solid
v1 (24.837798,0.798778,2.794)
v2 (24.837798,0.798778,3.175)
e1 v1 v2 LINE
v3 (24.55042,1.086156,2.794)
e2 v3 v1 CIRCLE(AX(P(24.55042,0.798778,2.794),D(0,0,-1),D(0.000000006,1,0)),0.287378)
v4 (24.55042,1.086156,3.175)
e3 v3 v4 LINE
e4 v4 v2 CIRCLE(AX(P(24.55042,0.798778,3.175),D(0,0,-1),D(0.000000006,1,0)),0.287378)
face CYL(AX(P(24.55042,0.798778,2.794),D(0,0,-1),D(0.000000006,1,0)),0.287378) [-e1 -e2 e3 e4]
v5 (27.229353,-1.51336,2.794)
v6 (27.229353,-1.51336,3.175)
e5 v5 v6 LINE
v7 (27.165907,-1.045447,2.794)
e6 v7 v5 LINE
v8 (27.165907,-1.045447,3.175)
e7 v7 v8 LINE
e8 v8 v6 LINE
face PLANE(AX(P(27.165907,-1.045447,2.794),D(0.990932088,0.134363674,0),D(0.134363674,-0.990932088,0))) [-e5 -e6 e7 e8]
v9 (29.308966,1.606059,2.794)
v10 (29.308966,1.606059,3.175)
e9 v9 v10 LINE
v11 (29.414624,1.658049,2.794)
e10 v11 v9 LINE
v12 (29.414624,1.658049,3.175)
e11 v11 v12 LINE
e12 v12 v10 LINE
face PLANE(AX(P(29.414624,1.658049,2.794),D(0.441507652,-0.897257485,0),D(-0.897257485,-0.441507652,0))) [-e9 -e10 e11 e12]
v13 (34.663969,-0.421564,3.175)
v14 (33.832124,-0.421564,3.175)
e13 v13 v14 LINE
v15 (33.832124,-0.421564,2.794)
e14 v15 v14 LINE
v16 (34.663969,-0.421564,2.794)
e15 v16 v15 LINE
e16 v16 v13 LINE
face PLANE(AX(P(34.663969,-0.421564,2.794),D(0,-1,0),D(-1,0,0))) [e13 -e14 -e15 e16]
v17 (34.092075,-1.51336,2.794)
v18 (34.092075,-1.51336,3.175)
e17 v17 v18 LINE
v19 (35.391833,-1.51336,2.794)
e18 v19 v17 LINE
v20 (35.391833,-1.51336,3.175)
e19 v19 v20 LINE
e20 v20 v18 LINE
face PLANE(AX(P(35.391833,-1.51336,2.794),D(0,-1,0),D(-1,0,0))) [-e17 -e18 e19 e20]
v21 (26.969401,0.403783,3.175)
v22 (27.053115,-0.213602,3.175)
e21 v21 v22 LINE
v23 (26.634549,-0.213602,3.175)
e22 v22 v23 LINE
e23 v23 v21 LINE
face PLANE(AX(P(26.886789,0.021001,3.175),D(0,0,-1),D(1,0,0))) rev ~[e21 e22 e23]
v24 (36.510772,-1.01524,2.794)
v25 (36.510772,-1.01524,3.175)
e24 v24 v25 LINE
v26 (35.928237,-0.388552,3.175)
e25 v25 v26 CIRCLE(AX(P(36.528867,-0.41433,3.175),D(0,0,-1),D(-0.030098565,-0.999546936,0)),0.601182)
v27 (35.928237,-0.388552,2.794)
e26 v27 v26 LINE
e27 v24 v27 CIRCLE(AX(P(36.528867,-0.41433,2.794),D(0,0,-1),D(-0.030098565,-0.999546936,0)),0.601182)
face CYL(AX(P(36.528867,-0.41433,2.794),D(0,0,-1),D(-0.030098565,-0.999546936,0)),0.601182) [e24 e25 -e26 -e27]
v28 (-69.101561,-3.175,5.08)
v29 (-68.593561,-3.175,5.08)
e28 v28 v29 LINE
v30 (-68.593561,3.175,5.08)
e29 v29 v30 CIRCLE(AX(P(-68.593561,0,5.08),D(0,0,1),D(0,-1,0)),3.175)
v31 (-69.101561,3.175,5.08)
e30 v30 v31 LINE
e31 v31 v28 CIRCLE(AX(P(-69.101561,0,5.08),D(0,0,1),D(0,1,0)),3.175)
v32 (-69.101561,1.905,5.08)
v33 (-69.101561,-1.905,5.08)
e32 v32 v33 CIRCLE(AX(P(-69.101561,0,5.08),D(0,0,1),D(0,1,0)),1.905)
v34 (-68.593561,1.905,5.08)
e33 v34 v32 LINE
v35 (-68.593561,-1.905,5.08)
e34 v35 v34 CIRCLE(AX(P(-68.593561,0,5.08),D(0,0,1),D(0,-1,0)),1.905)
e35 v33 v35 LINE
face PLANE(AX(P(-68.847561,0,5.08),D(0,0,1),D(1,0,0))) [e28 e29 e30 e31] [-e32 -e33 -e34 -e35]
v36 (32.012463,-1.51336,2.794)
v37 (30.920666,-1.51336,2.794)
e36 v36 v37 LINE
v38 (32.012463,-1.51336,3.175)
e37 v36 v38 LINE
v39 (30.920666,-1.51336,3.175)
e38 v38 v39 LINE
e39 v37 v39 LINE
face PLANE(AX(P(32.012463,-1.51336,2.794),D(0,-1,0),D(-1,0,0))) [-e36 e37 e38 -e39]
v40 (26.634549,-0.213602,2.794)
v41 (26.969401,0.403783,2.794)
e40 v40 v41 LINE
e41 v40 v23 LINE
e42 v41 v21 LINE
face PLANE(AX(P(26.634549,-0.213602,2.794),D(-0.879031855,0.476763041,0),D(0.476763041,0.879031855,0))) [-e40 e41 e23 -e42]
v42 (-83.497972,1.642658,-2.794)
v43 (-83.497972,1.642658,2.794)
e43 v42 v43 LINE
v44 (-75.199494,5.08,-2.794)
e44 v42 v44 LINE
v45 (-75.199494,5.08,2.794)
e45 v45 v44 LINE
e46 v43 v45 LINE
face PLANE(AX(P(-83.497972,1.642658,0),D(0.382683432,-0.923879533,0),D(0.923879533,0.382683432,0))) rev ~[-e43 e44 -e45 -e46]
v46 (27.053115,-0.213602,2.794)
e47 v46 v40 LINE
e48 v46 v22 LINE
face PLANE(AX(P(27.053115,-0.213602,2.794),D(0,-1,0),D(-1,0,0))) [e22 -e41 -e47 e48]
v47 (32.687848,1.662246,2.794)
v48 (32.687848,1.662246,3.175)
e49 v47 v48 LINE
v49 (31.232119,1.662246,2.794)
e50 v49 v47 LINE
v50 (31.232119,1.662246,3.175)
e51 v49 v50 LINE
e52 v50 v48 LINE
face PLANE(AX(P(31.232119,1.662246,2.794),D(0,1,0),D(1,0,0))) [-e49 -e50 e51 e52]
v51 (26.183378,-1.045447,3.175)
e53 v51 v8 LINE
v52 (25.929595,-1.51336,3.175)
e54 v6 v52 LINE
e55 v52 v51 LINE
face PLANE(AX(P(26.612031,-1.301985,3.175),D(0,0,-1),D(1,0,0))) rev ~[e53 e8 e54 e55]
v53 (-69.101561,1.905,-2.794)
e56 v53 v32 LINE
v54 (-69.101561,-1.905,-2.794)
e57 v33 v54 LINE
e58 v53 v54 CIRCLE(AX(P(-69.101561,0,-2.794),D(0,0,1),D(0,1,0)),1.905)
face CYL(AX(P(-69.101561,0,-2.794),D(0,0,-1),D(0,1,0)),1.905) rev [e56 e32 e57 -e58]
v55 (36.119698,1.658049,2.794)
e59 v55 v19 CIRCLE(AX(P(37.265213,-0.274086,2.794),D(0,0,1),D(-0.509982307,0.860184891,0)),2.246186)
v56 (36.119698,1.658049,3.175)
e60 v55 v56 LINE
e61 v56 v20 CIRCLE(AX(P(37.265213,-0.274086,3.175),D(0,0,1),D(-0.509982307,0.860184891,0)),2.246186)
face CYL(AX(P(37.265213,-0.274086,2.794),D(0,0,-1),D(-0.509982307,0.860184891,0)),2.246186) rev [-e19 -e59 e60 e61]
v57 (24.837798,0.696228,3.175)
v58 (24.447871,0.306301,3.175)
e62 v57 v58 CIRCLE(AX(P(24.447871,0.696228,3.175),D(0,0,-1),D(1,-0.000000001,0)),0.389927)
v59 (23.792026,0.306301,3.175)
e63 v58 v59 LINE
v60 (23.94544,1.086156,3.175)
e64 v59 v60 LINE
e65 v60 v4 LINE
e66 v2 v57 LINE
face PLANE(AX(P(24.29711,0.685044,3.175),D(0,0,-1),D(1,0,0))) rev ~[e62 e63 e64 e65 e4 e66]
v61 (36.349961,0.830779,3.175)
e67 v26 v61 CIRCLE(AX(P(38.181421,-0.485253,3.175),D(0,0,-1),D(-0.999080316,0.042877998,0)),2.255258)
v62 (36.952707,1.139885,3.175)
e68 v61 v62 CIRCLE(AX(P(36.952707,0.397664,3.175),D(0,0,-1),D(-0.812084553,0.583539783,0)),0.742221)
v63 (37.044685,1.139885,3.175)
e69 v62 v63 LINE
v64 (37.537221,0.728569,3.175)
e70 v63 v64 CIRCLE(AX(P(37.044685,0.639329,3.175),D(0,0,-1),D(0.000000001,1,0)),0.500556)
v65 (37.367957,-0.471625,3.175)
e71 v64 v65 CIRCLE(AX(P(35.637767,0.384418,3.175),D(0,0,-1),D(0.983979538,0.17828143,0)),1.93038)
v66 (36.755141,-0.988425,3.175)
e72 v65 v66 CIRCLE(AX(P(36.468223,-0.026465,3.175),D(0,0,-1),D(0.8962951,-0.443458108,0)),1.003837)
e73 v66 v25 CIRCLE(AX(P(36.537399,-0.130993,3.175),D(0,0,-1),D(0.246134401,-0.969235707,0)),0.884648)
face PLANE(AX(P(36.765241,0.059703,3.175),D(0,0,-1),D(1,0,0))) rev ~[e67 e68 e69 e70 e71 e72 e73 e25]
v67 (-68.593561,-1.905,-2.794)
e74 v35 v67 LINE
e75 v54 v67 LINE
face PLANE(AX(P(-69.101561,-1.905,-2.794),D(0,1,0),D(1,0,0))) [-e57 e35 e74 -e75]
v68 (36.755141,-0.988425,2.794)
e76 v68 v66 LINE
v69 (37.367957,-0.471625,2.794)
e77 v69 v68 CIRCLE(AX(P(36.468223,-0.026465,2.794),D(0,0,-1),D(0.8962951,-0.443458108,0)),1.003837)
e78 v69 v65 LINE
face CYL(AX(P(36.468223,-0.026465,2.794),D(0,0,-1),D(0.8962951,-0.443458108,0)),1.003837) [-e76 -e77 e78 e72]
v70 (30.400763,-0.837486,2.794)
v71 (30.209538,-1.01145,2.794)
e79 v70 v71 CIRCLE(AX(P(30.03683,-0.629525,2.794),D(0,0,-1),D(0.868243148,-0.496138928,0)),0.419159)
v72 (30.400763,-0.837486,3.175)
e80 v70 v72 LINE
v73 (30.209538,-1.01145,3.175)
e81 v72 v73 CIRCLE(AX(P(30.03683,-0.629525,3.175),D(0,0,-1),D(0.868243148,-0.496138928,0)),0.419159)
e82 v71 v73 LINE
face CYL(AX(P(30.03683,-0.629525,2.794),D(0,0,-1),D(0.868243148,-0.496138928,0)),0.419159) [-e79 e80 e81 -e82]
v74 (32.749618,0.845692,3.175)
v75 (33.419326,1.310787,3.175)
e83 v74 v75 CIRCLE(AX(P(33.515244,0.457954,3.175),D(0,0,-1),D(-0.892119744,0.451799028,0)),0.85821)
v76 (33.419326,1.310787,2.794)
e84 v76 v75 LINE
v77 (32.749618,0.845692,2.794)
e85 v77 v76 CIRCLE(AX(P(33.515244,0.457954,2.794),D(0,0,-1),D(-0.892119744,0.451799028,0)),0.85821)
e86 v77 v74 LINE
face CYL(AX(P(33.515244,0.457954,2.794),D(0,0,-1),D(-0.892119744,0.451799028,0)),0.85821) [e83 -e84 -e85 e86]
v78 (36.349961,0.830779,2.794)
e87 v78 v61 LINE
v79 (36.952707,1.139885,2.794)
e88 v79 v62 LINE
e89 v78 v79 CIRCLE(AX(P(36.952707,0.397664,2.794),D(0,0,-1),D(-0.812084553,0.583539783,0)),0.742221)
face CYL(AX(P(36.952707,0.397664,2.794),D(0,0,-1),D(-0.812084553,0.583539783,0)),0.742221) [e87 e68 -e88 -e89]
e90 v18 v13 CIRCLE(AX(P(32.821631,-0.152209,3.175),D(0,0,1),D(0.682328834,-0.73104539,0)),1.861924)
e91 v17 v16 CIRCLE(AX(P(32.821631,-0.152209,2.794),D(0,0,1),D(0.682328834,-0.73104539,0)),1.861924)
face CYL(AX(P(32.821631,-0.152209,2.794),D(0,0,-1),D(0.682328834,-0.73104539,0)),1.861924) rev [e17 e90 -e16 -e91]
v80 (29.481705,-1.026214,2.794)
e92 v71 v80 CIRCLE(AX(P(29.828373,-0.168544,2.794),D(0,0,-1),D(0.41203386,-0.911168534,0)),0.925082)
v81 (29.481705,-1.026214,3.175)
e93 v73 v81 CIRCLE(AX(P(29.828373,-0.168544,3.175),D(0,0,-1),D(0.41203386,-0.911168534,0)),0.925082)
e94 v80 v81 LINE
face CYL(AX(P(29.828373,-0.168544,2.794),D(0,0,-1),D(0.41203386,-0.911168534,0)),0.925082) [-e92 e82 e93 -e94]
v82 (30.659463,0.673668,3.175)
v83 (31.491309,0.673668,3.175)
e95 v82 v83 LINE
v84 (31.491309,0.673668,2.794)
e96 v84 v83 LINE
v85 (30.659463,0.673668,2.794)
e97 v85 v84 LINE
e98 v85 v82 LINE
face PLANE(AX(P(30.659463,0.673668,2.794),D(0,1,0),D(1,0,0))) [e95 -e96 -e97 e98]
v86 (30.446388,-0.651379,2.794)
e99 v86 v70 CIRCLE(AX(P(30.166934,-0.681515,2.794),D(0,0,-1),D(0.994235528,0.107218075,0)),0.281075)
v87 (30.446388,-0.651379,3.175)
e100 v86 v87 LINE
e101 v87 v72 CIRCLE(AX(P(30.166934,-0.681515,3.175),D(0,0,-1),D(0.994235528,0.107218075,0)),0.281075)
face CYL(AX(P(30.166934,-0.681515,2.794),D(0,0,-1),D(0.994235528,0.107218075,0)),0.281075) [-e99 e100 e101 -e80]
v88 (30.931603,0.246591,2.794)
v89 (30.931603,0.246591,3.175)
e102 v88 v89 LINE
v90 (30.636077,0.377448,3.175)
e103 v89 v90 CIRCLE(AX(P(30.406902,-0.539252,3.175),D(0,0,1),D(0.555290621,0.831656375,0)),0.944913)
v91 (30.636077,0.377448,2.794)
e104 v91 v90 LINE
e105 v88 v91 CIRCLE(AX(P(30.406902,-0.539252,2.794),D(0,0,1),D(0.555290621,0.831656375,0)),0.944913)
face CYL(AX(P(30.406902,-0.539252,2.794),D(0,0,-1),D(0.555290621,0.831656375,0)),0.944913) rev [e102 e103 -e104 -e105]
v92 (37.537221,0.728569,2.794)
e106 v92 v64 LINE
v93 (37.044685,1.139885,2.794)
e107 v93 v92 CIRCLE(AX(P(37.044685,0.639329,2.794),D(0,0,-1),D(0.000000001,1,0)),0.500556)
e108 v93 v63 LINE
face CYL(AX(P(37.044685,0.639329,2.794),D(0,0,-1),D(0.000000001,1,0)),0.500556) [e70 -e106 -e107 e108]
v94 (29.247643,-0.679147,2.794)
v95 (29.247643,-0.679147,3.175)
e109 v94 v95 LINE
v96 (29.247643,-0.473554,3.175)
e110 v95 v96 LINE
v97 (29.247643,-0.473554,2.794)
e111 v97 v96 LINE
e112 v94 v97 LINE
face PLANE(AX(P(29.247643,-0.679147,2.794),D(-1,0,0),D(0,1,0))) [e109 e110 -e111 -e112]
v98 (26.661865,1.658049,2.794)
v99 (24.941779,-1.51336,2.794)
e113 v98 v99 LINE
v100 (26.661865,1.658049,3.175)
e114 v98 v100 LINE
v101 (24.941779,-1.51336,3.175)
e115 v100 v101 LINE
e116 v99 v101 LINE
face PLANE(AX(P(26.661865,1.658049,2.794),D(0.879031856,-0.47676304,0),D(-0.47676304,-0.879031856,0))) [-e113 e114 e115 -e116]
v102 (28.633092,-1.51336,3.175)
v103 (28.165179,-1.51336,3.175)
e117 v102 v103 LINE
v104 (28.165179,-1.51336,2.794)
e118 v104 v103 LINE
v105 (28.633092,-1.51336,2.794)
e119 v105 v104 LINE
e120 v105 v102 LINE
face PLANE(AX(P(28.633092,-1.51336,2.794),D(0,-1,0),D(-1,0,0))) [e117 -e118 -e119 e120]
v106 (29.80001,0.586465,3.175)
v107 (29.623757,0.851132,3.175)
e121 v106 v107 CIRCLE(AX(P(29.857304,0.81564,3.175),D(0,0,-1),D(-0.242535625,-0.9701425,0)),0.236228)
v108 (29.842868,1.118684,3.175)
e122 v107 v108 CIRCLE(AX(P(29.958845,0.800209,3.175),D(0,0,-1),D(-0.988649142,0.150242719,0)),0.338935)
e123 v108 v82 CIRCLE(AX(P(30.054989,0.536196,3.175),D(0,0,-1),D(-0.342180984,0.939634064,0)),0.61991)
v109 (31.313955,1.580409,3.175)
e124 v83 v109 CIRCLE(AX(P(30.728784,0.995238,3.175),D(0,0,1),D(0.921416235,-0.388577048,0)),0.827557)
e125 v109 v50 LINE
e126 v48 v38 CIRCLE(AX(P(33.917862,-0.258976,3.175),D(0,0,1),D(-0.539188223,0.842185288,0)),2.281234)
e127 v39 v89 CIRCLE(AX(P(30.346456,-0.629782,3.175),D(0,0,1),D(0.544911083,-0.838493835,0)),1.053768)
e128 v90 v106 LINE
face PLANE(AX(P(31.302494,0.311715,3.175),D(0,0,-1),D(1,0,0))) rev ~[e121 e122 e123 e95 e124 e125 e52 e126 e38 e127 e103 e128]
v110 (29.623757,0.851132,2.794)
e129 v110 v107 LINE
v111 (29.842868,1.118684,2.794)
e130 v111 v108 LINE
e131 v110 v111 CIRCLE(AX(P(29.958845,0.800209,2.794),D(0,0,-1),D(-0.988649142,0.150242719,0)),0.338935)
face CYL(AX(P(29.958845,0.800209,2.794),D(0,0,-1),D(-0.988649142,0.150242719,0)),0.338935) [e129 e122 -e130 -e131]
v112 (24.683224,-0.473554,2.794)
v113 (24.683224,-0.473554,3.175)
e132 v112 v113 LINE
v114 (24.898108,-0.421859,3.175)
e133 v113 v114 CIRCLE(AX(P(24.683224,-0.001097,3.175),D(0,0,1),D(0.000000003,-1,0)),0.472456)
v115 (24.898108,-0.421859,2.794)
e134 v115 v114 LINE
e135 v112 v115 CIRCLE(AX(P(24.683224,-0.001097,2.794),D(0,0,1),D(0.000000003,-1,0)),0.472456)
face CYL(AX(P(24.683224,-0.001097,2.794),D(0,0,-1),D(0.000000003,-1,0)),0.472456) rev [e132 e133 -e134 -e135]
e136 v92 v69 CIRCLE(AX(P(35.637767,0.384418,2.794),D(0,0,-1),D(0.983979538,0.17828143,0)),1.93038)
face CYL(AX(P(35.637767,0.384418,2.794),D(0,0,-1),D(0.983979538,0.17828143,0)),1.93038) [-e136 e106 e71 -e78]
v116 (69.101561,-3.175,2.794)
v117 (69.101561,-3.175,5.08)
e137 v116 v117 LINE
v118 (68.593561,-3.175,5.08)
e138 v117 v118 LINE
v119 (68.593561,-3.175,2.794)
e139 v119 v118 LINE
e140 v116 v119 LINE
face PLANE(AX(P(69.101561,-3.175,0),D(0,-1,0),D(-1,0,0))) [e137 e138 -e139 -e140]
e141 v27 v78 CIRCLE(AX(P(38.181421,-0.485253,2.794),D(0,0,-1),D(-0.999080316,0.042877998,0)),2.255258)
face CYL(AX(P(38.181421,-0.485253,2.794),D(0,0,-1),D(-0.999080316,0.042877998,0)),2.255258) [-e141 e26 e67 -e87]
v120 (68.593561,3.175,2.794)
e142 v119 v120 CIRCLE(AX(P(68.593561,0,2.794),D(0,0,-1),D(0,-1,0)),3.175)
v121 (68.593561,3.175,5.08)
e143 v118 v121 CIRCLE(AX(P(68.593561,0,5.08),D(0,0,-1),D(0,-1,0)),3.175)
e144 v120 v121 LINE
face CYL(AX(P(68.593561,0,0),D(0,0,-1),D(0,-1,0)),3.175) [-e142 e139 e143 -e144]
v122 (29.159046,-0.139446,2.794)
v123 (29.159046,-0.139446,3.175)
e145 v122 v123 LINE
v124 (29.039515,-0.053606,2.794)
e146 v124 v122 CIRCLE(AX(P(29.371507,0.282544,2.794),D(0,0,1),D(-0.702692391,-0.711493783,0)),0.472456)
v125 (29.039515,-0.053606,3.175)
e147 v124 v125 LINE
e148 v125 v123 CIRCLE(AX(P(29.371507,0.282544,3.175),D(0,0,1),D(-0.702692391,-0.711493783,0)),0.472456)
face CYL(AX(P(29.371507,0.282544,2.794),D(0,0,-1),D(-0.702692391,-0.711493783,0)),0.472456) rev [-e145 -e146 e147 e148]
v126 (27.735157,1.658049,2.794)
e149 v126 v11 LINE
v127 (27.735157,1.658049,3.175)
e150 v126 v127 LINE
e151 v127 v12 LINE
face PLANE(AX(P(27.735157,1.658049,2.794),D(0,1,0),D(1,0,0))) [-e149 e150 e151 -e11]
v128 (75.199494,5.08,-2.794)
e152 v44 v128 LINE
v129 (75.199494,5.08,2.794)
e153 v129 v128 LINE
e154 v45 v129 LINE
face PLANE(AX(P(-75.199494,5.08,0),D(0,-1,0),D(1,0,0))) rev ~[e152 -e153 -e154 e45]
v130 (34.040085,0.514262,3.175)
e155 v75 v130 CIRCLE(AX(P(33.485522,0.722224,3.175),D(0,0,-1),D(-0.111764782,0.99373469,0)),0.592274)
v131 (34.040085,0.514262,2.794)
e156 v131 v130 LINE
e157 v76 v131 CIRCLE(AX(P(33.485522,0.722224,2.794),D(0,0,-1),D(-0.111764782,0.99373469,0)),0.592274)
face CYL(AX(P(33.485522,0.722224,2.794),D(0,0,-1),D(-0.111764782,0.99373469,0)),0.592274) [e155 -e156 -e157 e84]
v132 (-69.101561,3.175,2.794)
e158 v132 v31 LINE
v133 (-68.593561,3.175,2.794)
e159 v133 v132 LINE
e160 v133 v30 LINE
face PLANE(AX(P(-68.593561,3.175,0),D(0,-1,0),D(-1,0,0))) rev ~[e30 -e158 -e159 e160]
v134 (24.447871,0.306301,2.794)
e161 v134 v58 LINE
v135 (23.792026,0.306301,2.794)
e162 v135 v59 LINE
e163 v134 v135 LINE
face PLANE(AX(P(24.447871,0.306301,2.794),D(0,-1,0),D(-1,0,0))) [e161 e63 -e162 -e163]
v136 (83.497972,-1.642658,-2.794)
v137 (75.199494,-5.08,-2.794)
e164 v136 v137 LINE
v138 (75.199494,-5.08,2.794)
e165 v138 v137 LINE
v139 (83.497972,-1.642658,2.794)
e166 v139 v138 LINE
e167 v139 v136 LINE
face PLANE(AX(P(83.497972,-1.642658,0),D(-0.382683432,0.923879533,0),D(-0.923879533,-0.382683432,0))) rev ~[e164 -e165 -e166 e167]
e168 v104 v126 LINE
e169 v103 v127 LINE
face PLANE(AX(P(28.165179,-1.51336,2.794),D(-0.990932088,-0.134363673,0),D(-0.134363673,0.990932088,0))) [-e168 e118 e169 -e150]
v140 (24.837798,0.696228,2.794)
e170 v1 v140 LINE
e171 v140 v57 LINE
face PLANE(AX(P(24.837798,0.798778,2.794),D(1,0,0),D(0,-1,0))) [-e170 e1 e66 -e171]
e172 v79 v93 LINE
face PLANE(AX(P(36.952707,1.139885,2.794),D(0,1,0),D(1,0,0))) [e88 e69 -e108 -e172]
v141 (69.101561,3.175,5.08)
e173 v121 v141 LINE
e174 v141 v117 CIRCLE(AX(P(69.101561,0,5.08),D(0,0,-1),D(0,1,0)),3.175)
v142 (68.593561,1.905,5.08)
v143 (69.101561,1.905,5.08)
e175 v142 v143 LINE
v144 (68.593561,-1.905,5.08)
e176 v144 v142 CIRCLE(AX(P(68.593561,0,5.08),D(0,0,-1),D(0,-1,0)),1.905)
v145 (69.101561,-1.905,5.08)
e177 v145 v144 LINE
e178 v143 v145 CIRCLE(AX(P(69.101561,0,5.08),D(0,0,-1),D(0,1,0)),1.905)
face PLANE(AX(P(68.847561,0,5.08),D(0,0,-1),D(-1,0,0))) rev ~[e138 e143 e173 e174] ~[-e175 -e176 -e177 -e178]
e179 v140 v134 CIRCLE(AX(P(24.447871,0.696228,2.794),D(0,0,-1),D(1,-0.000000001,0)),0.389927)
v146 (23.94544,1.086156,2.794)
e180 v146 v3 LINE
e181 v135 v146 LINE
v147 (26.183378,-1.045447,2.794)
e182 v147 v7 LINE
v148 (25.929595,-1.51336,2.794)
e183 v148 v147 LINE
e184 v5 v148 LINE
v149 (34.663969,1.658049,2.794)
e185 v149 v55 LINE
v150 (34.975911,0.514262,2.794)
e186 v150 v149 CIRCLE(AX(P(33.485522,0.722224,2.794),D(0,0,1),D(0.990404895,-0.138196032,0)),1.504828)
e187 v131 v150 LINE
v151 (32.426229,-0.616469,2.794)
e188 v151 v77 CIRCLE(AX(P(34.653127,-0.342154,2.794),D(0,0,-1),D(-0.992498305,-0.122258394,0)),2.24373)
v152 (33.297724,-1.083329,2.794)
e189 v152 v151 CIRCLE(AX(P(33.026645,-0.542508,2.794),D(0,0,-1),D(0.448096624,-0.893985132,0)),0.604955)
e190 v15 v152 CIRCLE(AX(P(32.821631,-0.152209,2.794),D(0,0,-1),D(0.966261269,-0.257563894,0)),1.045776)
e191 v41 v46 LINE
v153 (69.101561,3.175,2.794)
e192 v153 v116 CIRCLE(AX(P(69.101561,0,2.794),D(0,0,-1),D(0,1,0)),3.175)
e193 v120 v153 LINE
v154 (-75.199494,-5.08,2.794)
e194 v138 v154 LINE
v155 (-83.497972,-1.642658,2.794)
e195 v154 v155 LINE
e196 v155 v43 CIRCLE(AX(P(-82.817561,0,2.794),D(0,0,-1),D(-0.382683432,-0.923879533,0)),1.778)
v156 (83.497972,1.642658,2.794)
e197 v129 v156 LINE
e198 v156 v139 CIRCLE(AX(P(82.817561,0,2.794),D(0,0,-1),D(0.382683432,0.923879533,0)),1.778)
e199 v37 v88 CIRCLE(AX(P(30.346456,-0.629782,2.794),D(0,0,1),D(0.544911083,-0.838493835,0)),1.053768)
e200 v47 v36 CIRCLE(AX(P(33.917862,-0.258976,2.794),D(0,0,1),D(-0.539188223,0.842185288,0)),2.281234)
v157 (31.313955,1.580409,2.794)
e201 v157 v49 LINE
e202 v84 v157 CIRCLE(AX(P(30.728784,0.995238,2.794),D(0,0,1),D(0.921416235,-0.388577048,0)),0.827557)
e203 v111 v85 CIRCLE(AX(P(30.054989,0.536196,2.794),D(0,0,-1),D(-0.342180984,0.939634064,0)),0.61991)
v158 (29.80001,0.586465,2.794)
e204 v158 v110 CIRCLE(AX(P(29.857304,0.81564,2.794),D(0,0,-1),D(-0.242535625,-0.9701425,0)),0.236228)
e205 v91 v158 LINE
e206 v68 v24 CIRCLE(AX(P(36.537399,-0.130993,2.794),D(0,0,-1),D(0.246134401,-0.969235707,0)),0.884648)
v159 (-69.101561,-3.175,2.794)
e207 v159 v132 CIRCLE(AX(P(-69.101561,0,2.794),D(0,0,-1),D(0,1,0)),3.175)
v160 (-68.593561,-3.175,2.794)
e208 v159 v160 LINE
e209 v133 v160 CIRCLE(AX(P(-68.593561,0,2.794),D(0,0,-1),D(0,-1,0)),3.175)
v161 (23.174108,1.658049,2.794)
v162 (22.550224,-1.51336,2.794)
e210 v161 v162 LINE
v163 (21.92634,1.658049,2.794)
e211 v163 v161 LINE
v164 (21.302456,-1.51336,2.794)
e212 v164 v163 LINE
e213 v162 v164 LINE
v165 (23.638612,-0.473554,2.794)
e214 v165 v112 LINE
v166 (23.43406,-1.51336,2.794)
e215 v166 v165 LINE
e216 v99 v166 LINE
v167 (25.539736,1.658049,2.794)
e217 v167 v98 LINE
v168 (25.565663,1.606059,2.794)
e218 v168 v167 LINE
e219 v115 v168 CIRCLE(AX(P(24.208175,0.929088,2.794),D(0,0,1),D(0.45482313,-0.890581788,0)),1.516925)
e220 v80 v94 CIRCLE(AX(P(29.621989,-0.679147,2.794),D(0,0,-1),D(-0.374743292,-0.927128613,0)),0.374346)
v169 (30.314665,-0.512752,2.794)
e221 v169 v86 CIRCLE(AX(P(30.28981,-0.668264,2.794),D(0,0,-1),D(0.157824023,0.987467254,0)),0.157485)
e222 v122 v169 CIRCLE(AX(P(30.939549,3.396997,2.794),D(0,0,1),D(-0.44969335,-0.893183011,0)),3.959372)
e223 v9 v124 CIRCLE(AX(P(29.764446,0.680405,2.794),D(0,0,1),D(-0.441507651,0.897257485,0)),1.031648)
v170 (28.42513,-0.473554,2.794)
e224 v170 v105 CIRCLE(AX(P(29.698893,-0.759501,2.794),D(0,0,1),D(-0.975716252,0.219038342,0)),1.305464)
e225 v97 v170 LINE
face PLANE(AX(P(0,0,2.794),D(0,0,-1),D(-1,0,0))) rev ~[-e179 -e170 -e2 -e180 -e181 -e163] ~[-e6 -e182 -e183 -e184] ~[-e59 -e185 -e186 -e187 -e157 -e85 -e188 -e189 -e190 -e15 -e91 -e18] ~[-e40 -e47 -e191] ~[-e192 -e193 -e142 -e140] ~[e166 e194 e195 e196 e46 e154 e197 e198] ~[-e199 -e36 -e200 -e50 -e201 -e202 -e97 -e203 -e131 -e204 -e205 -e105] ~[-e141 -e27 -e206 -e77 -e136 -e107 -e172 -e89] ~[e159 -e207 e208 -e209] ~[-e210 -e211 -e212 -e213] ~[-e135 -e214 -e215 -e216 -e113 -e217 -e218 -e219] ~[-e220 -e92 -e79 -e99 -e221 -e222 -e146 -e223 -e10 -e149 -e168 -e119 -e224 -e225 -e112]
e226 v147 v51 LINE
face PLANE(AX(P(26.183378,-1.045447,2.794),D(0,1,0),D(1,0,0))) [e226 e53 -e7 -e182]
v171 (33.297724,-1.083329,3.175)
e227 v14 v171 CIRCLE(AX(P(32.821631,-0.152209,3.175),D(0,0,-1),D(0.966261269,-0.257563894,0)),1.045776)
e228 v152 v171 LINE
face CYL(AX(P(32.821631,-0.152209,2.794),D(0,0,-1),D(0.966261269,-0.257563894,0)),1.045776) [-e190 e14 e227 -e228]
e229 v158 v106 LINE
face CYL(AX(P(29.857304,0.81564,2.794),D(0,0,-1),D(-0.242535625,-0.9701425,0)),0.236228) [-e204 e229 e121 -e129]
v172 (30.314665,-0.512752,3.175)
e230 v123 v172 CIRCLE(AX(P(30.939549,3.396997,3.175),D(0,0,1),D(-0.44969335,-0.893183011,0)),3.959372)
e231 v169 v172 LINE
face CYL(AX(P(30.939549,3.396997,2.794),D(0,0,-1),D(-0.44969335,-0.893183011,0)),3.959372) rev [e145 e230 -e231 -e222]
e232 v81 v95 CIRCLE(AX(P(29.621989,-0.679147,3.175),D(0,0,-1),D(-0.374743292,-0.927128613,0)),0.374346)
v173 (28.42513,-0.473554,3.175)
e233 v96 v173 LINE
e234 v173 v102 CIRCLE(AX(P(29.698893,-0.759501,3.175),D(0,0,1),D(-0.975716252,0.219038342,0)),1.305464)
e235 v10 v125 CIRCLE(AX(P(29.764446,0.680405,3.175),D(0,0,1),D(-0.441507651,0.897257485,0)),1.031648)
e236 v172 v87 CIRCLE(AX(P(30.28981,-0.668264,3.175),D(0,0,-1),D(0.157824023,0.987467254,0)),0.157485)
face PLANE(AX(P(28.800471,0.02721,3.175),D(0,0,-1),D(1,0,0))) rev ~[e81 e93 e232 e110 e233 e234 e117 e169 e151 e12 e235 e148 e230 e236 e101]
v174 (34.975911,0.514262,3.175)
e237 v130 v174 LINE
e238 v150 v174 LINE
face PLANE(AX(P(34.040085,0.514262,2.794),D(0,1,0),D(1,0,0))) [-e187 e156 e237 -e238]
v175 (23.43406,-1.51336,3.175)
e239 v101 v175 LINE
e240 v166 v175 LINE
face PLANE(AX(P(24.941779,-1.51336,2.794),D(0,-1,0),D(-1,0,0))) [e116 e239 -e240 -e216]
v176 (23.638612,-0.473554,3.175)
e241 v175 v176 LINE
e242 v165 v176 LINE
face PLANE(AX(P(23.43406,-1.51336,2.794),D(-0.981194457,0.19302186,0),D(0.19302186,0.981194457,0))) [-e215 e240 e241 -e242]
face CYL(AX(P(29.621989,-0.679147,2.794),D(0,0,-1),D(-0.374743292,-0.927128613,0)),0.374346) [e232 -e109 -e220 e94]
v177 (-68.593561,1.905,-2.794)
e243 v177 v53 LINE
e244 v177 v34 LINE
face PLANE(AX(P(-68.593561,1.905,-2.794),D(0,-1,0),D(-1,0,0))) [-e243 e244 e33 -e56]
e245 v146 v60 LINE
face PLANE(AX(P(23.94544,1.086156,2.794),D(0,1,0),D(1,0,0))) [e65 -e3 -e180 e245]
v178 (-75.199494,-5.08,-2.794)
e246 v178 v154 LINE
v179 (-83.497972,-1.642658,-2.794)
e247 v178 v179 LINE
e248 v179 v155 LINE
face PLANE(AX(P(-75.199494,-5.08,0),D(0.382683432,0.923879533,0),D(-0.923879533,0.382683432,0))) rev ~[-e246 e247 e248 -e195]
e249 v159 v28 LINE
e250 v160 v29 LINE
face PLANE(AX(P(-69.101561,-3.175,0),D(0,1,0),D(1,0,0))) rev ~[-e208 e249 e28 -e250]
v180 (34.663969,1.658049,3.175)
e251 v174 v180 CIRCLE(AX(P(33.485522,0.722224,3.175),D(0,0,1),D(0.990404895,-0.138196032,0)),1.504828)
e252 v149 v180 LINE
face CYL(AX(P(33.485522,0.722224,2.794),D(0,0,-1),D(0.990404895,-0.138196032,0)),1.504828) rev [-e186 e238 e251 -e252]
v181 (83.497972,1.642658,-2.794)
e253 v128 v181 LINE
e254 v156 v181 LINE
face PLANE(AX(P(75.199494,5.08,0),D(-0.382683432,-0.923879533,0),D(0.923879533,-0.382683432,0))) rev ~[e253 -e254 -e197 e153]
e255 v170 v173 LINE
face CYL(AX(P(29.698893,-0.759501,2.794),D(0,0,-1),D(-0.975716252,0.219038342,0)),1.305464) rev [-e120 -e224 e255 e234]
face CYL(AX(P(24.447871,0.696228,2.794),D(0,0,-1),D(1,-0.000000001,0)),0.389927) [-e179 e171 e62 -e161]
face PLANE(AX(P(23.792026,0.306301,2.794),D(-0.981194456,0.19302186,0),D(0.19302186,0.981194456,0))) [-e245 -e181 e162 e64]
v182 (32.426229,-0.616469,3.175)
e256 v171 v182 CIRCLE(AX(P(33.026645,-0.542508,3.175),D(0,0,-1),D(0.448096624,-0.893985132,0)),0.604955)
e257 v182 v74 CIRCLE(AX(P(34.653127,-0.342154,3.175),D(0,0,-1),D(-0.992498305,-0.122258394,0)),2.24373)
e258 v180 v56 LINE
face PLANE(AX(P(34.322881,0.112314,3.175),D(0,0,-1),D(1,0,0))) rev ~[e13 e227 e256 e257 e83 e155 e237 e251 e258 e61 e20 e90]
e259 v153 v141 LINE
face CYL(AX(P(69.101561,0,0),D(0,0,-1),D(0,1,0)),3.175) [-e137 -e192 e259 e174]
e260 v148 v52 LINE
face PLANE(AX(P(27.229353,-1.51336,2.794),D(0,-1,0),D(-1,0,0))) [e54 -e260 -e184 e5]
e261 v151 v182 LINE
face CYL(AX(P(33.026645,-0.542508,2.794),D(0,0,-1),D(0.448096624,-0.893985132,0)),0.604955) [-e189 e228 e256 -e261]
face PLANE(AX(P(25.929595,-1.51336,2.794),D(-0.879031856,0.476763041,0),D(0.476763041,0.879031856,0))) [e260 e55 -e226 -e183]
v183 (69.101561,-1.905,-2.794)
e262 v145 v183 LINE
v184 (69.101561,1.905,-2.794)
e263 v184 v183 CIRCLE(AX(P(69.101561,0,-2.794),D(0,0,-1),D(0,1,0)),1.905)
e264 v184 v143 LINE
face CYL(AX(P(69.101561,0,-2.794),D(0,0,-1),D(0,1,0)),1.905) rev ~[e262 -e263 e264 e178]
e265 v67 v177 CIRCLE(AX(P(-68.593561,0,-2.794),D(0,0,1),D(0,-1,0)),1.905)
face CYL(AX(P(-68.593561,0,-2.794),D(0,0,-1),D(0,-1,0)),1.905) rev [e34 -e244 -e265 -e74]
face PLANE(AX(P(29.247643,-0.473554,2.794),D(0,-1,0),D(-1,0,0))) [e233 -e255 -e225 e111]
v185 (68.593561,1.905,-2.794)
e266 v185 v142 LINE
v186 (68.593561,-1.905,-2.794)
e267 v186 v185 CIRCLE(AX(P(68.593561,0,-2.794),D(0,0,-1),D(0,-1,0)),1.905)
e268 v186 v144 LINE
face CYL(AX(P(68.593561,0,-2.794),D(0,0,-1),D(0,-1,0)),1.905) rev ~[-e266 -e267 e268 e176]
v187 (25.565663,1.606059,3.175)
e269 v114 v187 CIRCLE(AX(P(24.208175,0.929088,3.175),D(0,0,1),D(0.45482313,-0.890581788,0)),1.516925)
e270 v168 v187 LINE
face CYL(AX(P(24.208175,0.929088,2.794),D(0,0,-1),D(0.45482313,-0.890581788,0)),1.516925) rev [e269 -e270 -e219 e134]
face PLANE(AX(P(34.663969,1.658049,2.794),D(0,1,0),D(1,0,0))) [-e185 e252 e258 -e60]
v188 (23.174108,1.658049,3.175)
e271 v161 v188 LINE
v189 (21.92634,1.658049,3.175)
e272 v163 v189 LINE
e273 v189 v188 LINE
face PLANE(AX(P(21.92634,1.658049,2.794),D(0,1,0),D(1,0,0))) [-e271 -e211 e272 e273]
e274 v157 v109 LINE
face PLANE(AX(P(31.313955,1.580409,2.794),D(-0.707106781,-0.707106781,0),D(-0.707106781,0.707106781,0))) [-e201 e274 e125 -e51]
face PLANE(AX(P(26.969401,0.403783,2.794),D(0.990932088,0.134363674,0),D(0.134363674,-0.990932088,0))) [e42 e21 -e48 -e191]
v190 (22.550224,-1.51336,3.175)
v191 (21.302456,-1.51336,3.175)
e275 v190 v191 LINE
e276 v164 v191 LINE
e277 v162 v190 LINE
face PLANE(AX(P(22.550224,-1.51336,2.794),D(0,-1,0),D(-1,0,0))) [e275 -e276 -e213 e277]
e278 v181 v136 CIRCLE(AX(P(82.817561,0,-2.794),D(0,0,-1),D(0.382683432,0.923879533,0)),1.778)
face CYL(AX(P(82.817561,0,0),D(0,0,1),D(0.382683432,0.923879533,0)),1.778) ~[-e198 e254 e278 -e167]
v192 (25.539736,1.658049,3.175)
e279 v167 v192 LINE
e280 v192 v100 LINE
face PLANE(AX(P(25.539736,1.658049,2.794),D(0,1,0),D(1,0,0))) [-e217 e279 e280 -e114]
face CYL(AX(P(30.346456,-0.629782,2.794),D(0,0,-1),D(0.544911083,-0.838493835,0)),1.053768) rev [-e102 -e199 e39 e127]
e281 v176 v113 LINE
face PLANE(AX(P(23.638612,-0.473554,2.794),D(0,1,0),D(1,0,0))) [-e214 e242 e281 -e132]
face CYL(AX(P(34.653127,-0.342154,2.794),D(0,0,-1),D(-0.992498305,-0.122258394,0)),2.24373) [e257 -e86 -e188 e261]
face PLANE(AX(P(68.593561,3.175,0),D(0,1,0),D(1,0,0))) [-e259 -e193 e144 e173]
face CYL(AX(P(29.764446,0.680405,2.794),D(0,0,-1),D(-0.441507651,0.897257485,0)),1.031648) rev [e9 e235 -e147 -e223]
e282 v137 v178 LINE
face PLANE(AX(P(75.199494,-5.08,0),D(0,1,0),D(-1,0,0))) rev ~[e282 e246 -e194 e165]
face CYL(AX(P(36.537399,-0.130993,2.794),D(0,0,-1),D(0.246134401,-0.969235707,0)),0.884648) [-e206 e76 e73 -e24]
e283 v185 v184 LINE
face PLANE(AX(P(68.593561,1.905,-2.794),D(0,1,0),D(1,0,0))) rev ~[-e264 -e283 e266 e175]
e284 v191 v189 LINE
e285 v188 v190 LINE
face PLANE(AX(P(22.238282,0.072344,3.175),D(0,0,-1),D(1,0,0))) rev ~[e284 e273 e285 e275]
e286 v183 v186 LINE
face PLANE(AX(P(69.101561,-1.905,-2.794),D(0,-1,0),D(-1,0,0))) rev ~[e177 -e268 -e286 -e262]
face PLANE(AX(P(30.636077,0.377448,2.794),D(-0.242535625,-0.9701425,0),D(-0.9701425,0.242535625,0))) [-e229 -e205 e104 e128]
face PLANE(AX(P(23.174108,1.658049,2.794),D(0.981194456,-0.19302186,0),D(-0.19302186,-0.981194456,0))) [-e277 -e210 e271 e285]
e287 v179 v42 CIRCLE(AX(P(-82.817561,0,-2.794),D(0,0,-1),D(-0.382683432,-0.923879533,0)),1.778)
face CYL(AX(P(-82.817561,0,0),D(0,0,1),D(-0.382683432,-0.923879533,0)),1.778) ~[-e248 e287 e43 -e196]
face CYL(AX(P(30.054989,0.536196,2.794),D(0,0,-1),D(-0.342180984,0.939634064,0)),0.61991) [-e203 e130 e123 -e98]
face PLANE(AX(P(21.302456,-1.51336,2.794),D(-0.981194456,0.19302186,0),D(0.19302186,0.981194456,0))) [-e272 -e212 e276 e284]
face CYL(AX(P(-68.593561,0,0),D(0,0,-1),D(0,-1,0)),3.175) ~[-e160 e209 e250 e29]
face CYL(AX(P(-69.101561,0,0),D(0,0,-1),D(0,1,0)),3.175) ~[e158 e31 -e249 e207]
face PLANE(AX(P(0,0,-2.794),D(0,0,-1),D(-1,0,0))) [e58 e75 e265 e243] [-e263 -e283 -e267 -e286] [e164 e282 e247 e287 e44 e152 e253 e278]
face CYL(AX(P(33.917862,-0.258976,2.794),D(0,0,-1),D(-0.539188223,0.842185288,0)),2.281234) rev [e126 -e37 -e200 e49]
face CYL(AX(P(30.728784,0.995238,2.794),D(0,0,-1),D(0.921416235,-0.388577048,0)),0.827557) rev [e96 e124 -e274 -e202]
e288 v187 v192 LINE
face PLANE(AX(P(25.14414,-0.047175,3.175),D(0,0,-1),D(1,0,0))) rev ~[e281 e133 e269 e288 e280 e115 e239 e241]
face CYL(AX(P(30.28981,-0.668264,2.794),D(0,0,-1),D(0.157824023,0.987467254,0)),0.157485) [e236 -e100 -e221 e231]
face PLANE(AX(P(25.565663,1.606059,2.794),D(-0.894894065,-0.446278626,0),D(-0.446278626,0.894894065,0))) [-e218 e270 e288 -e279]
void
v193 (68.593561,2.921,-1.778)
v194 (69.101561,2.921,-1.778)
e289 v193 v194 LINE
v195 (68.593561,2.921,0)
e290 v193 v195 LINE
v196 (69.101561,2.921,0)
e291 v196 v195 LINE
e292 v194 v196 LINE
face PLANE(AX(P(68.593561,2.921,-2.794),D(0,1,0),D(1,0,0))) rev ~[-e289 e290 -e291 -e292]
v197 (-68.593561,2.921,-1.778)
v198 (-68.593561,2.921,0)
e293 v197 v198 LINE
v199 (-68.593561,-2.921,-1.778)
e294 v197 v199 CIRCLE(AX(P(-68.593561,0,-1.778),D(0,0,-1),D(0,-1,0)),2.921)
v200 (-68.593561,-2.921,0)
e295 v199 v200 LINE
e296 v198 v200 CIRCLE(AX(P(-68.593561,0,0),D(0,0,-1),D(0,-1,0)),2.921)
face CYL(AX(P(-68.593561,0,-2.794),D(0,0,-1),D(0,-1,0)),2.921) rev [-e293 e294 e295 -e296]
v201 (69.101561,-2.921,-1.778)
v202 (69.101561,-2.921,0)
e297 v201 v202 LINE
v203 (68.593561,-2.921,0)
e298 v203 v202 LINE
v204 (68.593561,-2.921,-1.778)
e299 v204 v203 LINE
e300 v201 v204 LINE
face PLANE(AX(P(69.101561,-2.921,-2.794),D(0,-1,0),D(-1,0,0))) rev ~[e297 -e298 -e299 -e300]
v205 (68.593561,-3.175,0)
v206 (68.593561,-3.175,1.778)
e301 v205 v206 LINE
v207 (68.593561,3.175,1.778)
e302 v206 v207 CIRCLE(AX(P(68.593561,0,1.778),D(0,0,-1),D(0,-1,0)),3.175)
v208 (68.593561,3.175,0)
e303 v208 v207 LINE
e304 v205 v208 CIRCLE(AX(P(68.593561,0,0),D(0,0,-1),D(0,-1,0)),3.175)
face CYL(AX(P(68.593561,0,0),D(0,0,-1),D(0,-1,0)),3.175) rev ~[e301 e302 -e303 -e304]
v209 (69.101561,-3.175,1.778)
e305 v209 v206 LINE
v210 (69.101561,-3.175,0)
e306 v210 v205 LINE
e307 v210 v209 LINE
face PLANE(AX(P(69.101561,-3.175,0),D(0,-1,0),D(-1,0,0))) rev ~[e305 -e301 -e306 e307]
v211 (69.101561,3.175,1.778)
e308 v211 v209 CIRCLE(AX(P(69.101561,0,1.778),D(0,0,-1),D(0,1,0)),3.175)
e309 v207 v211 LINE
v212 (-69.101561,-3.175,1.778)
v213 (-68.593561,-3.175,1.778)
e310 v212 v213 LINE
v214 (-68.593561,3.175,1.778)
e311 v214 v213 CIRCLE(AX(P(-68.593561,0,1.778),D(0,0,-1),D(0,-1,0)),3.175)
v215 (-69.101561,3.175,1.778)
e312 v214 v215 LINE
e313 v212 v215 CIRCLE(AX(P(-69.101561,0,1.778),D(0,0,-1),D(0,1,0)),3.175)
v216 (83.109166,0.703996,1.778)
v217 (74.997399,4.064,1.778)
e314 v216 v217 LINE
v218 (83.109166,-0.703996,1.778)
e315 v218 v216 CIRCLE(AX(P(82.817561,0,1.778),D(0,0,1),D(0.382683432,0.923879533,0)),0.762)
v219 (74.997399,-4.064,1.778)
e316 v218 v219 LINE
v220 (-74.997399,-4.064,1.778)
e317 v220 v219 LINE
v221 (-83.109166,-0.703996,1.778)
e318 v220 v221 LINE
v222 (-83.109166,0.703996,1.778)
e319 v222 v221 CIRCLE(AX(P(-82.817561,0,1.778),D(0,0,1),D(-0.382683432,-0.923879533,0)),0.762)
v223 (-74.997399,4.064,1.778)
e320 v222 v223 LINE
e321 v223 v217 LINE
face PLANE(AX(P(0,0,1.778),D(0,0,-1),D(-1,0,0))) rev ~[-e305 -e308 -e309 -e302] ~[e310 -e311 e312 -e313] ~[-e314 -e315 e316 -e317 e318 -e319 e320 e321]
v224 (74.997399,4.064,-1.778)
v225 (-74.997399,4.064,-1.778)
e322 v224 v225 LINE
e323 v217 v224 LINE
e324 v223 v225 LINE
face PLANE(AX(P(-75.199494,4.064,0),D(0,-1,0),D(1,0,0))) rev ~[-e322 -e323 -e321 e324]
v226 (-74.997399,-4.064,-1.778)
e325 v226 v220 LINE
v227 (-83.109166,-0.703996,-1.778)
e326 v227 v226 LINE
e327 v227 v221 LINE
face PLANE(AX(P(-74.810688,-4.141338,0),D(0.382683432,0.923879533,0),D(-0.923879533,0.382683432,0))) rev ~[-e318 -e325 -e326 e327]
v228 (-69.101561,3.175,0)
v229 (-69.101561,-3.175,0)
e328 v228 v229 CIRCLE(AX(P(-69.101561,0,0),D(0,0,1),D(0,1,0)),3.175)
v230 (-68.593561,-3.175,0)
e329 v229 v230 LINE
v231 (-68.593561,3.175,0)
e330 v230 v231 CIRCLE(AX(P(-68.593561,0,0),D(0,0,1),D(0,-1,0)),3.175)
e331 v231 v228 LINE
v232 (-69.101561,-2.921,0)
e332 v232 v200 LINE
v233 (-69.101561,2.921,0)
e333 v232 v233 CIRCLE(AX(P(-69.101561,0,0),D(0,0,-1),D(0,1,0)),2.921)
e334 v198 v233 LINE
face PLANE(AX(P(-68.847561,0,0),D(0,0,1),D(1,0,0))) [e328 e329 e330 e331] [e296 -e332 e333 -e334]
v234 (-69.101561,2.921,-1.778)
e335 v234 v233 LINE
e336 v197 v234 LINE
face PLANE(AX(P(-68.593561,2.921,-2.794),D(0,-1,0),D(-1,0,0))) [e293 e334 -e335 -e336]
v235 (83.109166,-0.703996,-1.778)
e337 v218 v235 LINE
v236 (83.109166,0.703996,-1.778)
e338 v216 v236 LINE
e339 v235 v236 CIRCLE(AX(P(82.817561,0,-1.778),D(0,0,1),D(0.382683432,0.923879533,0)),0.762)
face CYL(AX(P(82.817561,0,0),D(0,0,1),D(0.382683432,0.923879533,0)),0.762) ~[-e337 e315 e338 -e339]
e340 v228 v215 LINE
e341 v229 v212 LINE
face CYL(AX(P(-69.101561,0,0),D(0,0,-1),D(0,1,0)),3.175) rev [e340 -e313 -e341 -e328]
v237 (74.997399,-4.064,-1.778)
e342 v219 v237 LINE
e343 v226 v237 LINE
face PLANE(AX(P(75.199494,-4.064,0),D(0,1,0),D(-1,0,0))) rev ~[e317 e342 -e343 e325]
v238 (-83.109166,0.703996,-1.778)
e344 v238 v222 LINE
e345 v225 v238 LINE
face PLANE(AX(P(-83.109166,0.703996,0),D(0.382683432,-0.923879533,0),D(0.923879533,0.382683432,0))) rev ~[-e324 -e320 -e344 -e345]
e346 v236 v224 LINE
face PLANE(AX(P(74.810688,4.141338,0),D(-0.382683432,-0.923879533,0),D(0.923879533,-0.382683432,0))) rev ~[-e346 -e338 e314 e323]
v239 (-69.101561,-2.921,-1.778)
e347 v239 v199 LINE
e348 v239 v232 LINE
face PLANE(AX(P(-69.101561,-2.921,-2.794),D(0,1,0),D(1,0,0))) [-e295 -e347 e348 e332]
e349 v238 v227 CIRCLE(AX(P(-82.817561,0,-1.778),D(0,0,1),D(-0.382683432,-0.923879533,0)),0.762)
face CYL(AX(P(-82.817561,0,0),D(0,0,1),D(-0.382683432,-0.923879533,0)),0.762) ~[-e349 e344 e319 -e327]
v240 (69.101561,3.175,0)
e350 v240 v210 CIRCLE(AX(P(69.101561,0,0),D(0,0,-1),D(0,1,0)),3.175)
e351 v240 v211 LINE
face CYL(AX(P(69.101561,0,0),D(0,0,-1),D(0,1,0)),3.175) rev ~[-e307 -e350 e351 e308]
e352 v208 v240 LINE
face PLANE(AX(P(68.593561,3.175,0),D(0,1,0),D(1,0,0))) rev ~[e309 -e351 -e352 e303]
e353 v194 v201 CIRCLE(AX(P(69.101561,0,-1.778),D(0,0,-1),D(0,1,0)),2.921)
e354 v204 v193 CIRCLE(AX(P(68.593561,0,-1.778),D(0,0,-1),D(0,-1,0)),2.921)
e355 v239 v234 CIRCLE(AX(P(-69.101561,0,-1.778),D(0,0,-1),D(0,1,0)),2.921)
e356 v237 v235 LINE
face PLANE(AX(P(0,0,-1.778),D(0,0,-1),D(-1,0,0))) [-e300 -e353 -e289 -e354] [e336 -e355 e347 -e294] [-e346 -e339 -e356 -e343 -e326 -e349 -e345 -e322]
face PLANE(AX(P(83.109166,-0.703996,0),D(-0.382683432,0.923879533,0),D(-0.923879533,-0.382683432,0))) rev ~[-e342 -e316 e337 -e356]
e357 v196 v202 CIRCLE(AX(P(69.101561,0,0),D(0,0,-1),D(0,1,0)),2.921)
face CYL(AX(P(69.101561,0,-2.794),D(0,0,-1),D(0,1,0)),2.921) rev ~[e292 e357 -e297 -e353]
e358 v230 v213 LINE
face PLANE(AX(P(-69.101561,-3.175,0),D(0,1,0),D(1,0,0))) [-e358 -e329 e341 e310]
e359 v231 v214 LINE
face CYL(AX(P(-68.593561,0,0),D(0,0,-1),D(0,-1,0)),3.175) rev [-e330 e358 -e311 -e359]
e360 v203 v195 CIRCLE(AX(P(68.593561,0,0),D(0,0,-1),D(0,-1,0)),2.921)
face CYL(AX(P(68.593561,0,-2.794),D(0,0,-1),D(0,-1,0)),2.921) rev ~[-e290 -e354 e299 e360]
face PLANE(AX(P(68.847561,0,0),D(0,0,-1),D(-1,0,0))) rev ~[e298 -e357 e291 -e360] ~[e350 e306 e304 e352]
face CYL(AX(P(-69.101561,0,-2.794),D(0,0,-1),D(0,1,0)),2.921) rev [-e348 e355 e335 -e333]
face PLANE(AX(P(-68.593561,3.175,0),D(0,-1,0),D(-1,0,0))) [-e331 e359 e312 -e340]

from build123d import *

# Parameters (mm, degrees)
EXTRUDE1_DEPTH      = 2.794
CUT_EXTRUDE1_DEPTH  = 6.588
SHELL2_T            = 1.016
BOSS_EXTRUDE1_DEPTH = 5.08
BOSS_EXTRUDE2_DEPTH = 0.381


with BuildPart() as part:
    # Sketch1 → Extrude1 (new body, symmetric)
    with BuildSketch(Plane.XY):
        with BuildLine():
            Line((-83.497972353, 1.642657809), (-75.199494217, 5.08))
            Line((-75.199494217, 5.08), (75.199494217, 5.08))
            Line((75.199494217, 5.08), (83.497972353, 1.642657809))
            ThreePointArc((83.497972353, 1.642657809), (84.595561211, 0), (83.497972353, -1.642657809))
            Line((83.497972353, -1.642657809), (75.199494217, -5.08))
            Line((75.199494217, -5.08), (-75.199494217, -5.08))
            Line((-75.199494217, -5.08), (-83.497972353, -1.642657809))
            ThreePointArc((-83.497972353, -1.642657809), (-84.595561211, 0), (-83.497972353, 1.642657809))
        make_face()
    extrude(amount=EXTRUDE1_DEPTH, both=True)

    # Sketch7 → Cut-Extrude1 (cut, through all)
    with BuildSketch(Plane.XY.offset(-2.794)):
        with BuildLine():
            Line((-69.101561211, -1.905), (-68.593561211, -1.905))
            ThreePointArc((-68.593561211, -1.905), (-66.688561211, 0), (-68.593561211, 1.905))
            Line((-68.593561211, 1.905), (-69.101561211, 1.905))
            ThreePointArc((-69.101561211, 1.905), (-71.006561211, 0), (-69.101561211, -1.905))
        make_face()
        with BuildLine():
            Line((69.101561211, -1.905), (68.593561211, -1.905))
            ThreePointArc((68.593561211, -1.905), (66.688561211, 0), (68.593561211, 1.905))
            Line((68.593561211, 1.905), (69.101561211, 1.905))
            ThreePointArc((69.101561211, 1.905), (71.006561211, 0), (69.101561211, -1.905))
        make_face()
    extrude(amount=CUT_EXTRUDE1_DEPTH, mode=Mode.SUBTRACT)

    # Shell2 (no face opened: a closed hollow body)
    add(offset(amount=-SHELL2_T, mode=Mode.PRIVATE), mode=Mode.SUBTRACT)

    # Sketch16 → Boss-Extrude1 (add)
    with BuildSketch(Plane.XY):
        with BuildLine():
            Line((-68.593561211, 3.175), (-69.101561211, 3.175))
            ThreePointArc((-69.101561211, 3.175), (-72.276561211, 0), (-69.101561211, -3.175))
            Line((-69.101561211, -3.175), (-68.593561211, -3.175))
            ThreePointArc((-68.593561211, -3.175), (-65.418561211, 0), (-68.593561211, 3.175))
        make_face()
        with BuildLine():
            Line((-68.593561211, 1.905), (-69.101561211, 1.905))
            ThreePointArc((-69.101561211, 1.905), (-71.006561211, 0), (-69.101561211, -1.905))
            Line((-69.101561211, -1.905), (-68.593561211, -1.905))
            ThreePointArc((-68.593561211, -1.905), (-66.688561211, 0), (-68.593561211, 1.905))
        make_face(mode=Mode.SUBTRACT)
        with BuildLine():
            Line((69.101561211, -3.175), (68.593561211, -3.175))
            ThreePointArc((68.593561211, -3.175), (65.418561211, 0), (68.593561211, 3.175))
            Line((68.593561211, 3.175), (69.101561211, 3.175))
            ThreePointArc((69.101561211, 3.175), (72.276561211, 0), (69.101561211, -3.175))
        make_face()
        with BuildLine():
            Line((69.101561211, -1.905), (68.593561211, -1.905))
            ThreePointArc((68.593561211, -1.905), (66.688561211, 0), (68.593561211, 1.905))
            Line((68.593561211, 1.905), (69.101561211, 1.905))
            ThreePointArc((69.101561211, 1.905), (71.006561211, 0), (69.101561211, -1.905))
        make_face(mode=Mode.SUBTRACT)
    extrude(amount=BOSS_EXTRUDE1_DEPTH)

    # Sketch15 → Boss-Extrude2 (add)
    with BuildSketch(Plane(origin=(52.759975214, 8.567310029, 2.794), x_dir=(-1, 0, 0), z_dir=(0, 0, 1))):
        Polygon((30.833634894, 6.909260745), (29.58586719, 6.909260745), (30.209751042, 10.080670326), (31.457518746, 10.080670326), align=None)
        with BuildLine():
            Line((26.098109724, 6.909260745), (27.818196276, 10.080670326))
            Line((27.818196276, 10.080670326), (29.325915585, 10.080670326))
            Line((29.325915585, 10.080670326), (29.121363503, 9.040863906))
            Line((29.121363503, 9.040863906), (28.076751324, 9.040863906))
            ThreePointArc((28.076751324, 9.040863906), (27.966243867, 9.027758301), (27.861867206, 8.989168567))
            ThreePointArc((27.861867206, 8.989168567), (27.110933968, 8.112530186), (27.194312424, 6.961251066))
            Line((27.194312424, 6.961251066), (27.220239704, 6.909260745))
            Line((27.220239704, 6.909260745), (26.098109724, 6.909260745))
        make_face()
        with BuildLine():
            Line((24.594796374, 10.080670326), (25.024818012, 6.909260745))
            Line((25.024818012, 6.909260745), (23.345351563, 6.909260745))
            Line((23.345351563, 6.909260745), (23.451009312, 6.961251066))
            ThreePointArc((23.451009312, 6.961251066), (24.013843502, 7.721578938), (23.720459983, 8.620915865))
            ThreePointArc((23.720459983, 8.620915865), (23.664057171, 8.668518488), (23.600928958, 8.706756109))
            ThreePointArc((23.600928958, 8.706756109), (23.03751713, 8.93797936), (22.445309842, 9.080062458))
            ThreePointArc((22.445309842, 9.080062458), (22.355999269, 9.127094259), (22.313587173, 9.218688925))
            ThreePointArc((22.313587173, 9.218688925), (22.320050836, 9.315750612), (22.359212571, 9.404796153))
            ThreePointArc((22.359212571, 9.404796153), (22.441078376, 9.50688825), (22.550436966, 9.578759697))
            ThreePointArc((22.550436966, 9.578759697), (22.912840286, 9.660745811), (23.278270345, 9.593524078))
            ThreePointArc((23.278270345, 9.593524078), (23.448349032, 9.45576593), (23.512332705, 9.246457171))
            Line((23.512332705, 9.246457171), (23.512332705, 9.040863906))
            Line((23.512332705, 9.040863906), (24.334844769, 9.040863906))
            ThreePointArc((24.334844769, 9.040863906), (24.341195101, 9.582833311), (24.126883485, 10.080670326))
            Line((24.126883485, 10.080670326), (24.594796374, 10.080670326))
        make_face()
        with BuildLine():
            Line((28.312104326, 8.261009091), (28.967949441, 8.261009091))
            Line((28.967949441, 8.261009091), (28.814535379, 7.481154276))
            Line((28.814535379, 7.481154276), (28.209554826, 7.481154276))
            ThreePointArc((28.209554826, 7.481154276), (28.006347959, 7.565325317), (27.922176918, 7.768532184))
            Line((27.922176918, 7.768532184), (27.922176918, 7.871081684))
            ThreePointArc((27.922176918, 7.871081684), (28.036384012, 8.146801998), (28.312104326, 8.261009091))
        make_face()
        Polygon((25.790573757, 8.16352724), (25.706860528, 8.780912301), (26.125426672, 8.780912301), align=None)
        Polygon((25.530622152, 10.080670326), (26.830380177, 10.080670326), (26.576596915, 9.612757437), (25.594067968, 9.612757437), align=None)
        with BuildLine():
            Line((21.446019985, 6.986900983), (21.527856602, 6.905064366))
            Line((21.527856602, 6.905064366), (20.072127614, 6.905064366))
            ThreePointArc((20.072127614, 6.905064366), (21.073440916, 8.351729074), (20.74751262, 10.080670326))
            Line((20.74751262, 10.080670326), (21.839309361, 10.080670326))
            ThreePointArc((21.839309361, 10.080670326), (21.359771514, 9.203641008), (21.828371735, 8.320719265))
            ThreePointArc((21.828371735, 8.320719265), (21.970498458, 8.242561464), (22.123897961, 8.189861942))
            Line((22.123897961, 8.189861942), (22.959965448, 7.98084507))
            ThreePointArc((22.959965448, 7.98084507), (23.09929103, 7.88260745), (23.136218517, 7.716178461))
            ThreePointArc((23.136218517, 7.716178461), (23.063353728, 7.552354455), (22.917107557, 7.44862577))
            ThreePointArc((22.917107557, 7.44862577), (22.408346515, 7.486786133), (22.100511774, 7.893642107))
            Line((22.100511774, 7.893642107), (21.268666638, 7.893642107))
            ThreePointArc((21.268666638, 7.893642107), (21.219023851, 7.413217054), (21.446019985, 6.986900983))
        make_face()
        with BuildLine():
            Line((18.096006249, 6.909260745), (16.640277261, 6.909260745))
            ThreePointArc((16.640277261, 6.909260745), (17.684029363, 8.338941307), (17.368141755, 10.080670326))
            Line((17.368141755, 10.080670326), (18.66789978, 10.080670326))
            ThreePointArc((18.66789978, 10.080670326), (18.288993246, 9.583465168), (18.096006249, 8.988873585))
            Line((18.096006249, 8.988873585), (18.927851385, 8.988873585))
            ThreePointArc((18.927851385, 8.988873585), (19.124730401, 9.376543005), (19.462251482, 9.650638693))
            ThreePointArc((19.462251482, 9.650638693), (20.018996521, 9.643076799), (20.333746509, 9.183778785))
            ThreePointArc((20.333746509, 9.183778785), (20.297634521, 8.424922889), (20.010357156, 7.72161779))
            ThreePointArc((20.010357156, 7.72161779), (19.734264238, 7.404457918), (19.340648899, 7.256523307))
            ThreePointArc((19.340648899, 7.256523307), (18.807293319, 7.48101259), (18.719890101, 8.053047807))
            Line((18.719890101, 8.053047807), (17.784064323, 8.053047807))
            ThreePointArc((17.784064323, 8.053047807), (17.822649734, 7.449140035), (18.096006249, 6.909260745))
        make_face()
        with BuildLine():
            Line((15.807268249, 7.427425154), (15.715290544, 7.427425154))
            ThreePointArc((15.715290544, 7.427425154), (15.394442736, 7.543776842), (15.22275385, 7.838741175))
            ThreePointArc((15.22275385, 7.838741175), (15.210743896, 8.452467568), (15.392018164, 9.038934928))
            ThreePointArc((15.392018164, 9.038934928), (15.644599766, 9.361161911), (16.00483435, 9.555735132))
            ThreePointArc((16.00483435, 9.555735132), (16.126082831, 9.577672377), (16.249203287, 9.582549899))
            ThreePointArc((16.249203287, 9.582549899), (16.671437038, 9.390945472), (16.831737964, 8.95586248))
            ThreePointArc((16.831737964, 8.95586248), (16.709931987, 8.31539524), (16.410014233, 7.736530556))
            ThreePointArc((16.410014233, 7.736530556), (16.145960171, 7.509207095), (15.807268249, 7.427425154))
        make_face()
    extrude(amount=BOSS_EXTRUDE2_DEPTH)


solid = part.part
